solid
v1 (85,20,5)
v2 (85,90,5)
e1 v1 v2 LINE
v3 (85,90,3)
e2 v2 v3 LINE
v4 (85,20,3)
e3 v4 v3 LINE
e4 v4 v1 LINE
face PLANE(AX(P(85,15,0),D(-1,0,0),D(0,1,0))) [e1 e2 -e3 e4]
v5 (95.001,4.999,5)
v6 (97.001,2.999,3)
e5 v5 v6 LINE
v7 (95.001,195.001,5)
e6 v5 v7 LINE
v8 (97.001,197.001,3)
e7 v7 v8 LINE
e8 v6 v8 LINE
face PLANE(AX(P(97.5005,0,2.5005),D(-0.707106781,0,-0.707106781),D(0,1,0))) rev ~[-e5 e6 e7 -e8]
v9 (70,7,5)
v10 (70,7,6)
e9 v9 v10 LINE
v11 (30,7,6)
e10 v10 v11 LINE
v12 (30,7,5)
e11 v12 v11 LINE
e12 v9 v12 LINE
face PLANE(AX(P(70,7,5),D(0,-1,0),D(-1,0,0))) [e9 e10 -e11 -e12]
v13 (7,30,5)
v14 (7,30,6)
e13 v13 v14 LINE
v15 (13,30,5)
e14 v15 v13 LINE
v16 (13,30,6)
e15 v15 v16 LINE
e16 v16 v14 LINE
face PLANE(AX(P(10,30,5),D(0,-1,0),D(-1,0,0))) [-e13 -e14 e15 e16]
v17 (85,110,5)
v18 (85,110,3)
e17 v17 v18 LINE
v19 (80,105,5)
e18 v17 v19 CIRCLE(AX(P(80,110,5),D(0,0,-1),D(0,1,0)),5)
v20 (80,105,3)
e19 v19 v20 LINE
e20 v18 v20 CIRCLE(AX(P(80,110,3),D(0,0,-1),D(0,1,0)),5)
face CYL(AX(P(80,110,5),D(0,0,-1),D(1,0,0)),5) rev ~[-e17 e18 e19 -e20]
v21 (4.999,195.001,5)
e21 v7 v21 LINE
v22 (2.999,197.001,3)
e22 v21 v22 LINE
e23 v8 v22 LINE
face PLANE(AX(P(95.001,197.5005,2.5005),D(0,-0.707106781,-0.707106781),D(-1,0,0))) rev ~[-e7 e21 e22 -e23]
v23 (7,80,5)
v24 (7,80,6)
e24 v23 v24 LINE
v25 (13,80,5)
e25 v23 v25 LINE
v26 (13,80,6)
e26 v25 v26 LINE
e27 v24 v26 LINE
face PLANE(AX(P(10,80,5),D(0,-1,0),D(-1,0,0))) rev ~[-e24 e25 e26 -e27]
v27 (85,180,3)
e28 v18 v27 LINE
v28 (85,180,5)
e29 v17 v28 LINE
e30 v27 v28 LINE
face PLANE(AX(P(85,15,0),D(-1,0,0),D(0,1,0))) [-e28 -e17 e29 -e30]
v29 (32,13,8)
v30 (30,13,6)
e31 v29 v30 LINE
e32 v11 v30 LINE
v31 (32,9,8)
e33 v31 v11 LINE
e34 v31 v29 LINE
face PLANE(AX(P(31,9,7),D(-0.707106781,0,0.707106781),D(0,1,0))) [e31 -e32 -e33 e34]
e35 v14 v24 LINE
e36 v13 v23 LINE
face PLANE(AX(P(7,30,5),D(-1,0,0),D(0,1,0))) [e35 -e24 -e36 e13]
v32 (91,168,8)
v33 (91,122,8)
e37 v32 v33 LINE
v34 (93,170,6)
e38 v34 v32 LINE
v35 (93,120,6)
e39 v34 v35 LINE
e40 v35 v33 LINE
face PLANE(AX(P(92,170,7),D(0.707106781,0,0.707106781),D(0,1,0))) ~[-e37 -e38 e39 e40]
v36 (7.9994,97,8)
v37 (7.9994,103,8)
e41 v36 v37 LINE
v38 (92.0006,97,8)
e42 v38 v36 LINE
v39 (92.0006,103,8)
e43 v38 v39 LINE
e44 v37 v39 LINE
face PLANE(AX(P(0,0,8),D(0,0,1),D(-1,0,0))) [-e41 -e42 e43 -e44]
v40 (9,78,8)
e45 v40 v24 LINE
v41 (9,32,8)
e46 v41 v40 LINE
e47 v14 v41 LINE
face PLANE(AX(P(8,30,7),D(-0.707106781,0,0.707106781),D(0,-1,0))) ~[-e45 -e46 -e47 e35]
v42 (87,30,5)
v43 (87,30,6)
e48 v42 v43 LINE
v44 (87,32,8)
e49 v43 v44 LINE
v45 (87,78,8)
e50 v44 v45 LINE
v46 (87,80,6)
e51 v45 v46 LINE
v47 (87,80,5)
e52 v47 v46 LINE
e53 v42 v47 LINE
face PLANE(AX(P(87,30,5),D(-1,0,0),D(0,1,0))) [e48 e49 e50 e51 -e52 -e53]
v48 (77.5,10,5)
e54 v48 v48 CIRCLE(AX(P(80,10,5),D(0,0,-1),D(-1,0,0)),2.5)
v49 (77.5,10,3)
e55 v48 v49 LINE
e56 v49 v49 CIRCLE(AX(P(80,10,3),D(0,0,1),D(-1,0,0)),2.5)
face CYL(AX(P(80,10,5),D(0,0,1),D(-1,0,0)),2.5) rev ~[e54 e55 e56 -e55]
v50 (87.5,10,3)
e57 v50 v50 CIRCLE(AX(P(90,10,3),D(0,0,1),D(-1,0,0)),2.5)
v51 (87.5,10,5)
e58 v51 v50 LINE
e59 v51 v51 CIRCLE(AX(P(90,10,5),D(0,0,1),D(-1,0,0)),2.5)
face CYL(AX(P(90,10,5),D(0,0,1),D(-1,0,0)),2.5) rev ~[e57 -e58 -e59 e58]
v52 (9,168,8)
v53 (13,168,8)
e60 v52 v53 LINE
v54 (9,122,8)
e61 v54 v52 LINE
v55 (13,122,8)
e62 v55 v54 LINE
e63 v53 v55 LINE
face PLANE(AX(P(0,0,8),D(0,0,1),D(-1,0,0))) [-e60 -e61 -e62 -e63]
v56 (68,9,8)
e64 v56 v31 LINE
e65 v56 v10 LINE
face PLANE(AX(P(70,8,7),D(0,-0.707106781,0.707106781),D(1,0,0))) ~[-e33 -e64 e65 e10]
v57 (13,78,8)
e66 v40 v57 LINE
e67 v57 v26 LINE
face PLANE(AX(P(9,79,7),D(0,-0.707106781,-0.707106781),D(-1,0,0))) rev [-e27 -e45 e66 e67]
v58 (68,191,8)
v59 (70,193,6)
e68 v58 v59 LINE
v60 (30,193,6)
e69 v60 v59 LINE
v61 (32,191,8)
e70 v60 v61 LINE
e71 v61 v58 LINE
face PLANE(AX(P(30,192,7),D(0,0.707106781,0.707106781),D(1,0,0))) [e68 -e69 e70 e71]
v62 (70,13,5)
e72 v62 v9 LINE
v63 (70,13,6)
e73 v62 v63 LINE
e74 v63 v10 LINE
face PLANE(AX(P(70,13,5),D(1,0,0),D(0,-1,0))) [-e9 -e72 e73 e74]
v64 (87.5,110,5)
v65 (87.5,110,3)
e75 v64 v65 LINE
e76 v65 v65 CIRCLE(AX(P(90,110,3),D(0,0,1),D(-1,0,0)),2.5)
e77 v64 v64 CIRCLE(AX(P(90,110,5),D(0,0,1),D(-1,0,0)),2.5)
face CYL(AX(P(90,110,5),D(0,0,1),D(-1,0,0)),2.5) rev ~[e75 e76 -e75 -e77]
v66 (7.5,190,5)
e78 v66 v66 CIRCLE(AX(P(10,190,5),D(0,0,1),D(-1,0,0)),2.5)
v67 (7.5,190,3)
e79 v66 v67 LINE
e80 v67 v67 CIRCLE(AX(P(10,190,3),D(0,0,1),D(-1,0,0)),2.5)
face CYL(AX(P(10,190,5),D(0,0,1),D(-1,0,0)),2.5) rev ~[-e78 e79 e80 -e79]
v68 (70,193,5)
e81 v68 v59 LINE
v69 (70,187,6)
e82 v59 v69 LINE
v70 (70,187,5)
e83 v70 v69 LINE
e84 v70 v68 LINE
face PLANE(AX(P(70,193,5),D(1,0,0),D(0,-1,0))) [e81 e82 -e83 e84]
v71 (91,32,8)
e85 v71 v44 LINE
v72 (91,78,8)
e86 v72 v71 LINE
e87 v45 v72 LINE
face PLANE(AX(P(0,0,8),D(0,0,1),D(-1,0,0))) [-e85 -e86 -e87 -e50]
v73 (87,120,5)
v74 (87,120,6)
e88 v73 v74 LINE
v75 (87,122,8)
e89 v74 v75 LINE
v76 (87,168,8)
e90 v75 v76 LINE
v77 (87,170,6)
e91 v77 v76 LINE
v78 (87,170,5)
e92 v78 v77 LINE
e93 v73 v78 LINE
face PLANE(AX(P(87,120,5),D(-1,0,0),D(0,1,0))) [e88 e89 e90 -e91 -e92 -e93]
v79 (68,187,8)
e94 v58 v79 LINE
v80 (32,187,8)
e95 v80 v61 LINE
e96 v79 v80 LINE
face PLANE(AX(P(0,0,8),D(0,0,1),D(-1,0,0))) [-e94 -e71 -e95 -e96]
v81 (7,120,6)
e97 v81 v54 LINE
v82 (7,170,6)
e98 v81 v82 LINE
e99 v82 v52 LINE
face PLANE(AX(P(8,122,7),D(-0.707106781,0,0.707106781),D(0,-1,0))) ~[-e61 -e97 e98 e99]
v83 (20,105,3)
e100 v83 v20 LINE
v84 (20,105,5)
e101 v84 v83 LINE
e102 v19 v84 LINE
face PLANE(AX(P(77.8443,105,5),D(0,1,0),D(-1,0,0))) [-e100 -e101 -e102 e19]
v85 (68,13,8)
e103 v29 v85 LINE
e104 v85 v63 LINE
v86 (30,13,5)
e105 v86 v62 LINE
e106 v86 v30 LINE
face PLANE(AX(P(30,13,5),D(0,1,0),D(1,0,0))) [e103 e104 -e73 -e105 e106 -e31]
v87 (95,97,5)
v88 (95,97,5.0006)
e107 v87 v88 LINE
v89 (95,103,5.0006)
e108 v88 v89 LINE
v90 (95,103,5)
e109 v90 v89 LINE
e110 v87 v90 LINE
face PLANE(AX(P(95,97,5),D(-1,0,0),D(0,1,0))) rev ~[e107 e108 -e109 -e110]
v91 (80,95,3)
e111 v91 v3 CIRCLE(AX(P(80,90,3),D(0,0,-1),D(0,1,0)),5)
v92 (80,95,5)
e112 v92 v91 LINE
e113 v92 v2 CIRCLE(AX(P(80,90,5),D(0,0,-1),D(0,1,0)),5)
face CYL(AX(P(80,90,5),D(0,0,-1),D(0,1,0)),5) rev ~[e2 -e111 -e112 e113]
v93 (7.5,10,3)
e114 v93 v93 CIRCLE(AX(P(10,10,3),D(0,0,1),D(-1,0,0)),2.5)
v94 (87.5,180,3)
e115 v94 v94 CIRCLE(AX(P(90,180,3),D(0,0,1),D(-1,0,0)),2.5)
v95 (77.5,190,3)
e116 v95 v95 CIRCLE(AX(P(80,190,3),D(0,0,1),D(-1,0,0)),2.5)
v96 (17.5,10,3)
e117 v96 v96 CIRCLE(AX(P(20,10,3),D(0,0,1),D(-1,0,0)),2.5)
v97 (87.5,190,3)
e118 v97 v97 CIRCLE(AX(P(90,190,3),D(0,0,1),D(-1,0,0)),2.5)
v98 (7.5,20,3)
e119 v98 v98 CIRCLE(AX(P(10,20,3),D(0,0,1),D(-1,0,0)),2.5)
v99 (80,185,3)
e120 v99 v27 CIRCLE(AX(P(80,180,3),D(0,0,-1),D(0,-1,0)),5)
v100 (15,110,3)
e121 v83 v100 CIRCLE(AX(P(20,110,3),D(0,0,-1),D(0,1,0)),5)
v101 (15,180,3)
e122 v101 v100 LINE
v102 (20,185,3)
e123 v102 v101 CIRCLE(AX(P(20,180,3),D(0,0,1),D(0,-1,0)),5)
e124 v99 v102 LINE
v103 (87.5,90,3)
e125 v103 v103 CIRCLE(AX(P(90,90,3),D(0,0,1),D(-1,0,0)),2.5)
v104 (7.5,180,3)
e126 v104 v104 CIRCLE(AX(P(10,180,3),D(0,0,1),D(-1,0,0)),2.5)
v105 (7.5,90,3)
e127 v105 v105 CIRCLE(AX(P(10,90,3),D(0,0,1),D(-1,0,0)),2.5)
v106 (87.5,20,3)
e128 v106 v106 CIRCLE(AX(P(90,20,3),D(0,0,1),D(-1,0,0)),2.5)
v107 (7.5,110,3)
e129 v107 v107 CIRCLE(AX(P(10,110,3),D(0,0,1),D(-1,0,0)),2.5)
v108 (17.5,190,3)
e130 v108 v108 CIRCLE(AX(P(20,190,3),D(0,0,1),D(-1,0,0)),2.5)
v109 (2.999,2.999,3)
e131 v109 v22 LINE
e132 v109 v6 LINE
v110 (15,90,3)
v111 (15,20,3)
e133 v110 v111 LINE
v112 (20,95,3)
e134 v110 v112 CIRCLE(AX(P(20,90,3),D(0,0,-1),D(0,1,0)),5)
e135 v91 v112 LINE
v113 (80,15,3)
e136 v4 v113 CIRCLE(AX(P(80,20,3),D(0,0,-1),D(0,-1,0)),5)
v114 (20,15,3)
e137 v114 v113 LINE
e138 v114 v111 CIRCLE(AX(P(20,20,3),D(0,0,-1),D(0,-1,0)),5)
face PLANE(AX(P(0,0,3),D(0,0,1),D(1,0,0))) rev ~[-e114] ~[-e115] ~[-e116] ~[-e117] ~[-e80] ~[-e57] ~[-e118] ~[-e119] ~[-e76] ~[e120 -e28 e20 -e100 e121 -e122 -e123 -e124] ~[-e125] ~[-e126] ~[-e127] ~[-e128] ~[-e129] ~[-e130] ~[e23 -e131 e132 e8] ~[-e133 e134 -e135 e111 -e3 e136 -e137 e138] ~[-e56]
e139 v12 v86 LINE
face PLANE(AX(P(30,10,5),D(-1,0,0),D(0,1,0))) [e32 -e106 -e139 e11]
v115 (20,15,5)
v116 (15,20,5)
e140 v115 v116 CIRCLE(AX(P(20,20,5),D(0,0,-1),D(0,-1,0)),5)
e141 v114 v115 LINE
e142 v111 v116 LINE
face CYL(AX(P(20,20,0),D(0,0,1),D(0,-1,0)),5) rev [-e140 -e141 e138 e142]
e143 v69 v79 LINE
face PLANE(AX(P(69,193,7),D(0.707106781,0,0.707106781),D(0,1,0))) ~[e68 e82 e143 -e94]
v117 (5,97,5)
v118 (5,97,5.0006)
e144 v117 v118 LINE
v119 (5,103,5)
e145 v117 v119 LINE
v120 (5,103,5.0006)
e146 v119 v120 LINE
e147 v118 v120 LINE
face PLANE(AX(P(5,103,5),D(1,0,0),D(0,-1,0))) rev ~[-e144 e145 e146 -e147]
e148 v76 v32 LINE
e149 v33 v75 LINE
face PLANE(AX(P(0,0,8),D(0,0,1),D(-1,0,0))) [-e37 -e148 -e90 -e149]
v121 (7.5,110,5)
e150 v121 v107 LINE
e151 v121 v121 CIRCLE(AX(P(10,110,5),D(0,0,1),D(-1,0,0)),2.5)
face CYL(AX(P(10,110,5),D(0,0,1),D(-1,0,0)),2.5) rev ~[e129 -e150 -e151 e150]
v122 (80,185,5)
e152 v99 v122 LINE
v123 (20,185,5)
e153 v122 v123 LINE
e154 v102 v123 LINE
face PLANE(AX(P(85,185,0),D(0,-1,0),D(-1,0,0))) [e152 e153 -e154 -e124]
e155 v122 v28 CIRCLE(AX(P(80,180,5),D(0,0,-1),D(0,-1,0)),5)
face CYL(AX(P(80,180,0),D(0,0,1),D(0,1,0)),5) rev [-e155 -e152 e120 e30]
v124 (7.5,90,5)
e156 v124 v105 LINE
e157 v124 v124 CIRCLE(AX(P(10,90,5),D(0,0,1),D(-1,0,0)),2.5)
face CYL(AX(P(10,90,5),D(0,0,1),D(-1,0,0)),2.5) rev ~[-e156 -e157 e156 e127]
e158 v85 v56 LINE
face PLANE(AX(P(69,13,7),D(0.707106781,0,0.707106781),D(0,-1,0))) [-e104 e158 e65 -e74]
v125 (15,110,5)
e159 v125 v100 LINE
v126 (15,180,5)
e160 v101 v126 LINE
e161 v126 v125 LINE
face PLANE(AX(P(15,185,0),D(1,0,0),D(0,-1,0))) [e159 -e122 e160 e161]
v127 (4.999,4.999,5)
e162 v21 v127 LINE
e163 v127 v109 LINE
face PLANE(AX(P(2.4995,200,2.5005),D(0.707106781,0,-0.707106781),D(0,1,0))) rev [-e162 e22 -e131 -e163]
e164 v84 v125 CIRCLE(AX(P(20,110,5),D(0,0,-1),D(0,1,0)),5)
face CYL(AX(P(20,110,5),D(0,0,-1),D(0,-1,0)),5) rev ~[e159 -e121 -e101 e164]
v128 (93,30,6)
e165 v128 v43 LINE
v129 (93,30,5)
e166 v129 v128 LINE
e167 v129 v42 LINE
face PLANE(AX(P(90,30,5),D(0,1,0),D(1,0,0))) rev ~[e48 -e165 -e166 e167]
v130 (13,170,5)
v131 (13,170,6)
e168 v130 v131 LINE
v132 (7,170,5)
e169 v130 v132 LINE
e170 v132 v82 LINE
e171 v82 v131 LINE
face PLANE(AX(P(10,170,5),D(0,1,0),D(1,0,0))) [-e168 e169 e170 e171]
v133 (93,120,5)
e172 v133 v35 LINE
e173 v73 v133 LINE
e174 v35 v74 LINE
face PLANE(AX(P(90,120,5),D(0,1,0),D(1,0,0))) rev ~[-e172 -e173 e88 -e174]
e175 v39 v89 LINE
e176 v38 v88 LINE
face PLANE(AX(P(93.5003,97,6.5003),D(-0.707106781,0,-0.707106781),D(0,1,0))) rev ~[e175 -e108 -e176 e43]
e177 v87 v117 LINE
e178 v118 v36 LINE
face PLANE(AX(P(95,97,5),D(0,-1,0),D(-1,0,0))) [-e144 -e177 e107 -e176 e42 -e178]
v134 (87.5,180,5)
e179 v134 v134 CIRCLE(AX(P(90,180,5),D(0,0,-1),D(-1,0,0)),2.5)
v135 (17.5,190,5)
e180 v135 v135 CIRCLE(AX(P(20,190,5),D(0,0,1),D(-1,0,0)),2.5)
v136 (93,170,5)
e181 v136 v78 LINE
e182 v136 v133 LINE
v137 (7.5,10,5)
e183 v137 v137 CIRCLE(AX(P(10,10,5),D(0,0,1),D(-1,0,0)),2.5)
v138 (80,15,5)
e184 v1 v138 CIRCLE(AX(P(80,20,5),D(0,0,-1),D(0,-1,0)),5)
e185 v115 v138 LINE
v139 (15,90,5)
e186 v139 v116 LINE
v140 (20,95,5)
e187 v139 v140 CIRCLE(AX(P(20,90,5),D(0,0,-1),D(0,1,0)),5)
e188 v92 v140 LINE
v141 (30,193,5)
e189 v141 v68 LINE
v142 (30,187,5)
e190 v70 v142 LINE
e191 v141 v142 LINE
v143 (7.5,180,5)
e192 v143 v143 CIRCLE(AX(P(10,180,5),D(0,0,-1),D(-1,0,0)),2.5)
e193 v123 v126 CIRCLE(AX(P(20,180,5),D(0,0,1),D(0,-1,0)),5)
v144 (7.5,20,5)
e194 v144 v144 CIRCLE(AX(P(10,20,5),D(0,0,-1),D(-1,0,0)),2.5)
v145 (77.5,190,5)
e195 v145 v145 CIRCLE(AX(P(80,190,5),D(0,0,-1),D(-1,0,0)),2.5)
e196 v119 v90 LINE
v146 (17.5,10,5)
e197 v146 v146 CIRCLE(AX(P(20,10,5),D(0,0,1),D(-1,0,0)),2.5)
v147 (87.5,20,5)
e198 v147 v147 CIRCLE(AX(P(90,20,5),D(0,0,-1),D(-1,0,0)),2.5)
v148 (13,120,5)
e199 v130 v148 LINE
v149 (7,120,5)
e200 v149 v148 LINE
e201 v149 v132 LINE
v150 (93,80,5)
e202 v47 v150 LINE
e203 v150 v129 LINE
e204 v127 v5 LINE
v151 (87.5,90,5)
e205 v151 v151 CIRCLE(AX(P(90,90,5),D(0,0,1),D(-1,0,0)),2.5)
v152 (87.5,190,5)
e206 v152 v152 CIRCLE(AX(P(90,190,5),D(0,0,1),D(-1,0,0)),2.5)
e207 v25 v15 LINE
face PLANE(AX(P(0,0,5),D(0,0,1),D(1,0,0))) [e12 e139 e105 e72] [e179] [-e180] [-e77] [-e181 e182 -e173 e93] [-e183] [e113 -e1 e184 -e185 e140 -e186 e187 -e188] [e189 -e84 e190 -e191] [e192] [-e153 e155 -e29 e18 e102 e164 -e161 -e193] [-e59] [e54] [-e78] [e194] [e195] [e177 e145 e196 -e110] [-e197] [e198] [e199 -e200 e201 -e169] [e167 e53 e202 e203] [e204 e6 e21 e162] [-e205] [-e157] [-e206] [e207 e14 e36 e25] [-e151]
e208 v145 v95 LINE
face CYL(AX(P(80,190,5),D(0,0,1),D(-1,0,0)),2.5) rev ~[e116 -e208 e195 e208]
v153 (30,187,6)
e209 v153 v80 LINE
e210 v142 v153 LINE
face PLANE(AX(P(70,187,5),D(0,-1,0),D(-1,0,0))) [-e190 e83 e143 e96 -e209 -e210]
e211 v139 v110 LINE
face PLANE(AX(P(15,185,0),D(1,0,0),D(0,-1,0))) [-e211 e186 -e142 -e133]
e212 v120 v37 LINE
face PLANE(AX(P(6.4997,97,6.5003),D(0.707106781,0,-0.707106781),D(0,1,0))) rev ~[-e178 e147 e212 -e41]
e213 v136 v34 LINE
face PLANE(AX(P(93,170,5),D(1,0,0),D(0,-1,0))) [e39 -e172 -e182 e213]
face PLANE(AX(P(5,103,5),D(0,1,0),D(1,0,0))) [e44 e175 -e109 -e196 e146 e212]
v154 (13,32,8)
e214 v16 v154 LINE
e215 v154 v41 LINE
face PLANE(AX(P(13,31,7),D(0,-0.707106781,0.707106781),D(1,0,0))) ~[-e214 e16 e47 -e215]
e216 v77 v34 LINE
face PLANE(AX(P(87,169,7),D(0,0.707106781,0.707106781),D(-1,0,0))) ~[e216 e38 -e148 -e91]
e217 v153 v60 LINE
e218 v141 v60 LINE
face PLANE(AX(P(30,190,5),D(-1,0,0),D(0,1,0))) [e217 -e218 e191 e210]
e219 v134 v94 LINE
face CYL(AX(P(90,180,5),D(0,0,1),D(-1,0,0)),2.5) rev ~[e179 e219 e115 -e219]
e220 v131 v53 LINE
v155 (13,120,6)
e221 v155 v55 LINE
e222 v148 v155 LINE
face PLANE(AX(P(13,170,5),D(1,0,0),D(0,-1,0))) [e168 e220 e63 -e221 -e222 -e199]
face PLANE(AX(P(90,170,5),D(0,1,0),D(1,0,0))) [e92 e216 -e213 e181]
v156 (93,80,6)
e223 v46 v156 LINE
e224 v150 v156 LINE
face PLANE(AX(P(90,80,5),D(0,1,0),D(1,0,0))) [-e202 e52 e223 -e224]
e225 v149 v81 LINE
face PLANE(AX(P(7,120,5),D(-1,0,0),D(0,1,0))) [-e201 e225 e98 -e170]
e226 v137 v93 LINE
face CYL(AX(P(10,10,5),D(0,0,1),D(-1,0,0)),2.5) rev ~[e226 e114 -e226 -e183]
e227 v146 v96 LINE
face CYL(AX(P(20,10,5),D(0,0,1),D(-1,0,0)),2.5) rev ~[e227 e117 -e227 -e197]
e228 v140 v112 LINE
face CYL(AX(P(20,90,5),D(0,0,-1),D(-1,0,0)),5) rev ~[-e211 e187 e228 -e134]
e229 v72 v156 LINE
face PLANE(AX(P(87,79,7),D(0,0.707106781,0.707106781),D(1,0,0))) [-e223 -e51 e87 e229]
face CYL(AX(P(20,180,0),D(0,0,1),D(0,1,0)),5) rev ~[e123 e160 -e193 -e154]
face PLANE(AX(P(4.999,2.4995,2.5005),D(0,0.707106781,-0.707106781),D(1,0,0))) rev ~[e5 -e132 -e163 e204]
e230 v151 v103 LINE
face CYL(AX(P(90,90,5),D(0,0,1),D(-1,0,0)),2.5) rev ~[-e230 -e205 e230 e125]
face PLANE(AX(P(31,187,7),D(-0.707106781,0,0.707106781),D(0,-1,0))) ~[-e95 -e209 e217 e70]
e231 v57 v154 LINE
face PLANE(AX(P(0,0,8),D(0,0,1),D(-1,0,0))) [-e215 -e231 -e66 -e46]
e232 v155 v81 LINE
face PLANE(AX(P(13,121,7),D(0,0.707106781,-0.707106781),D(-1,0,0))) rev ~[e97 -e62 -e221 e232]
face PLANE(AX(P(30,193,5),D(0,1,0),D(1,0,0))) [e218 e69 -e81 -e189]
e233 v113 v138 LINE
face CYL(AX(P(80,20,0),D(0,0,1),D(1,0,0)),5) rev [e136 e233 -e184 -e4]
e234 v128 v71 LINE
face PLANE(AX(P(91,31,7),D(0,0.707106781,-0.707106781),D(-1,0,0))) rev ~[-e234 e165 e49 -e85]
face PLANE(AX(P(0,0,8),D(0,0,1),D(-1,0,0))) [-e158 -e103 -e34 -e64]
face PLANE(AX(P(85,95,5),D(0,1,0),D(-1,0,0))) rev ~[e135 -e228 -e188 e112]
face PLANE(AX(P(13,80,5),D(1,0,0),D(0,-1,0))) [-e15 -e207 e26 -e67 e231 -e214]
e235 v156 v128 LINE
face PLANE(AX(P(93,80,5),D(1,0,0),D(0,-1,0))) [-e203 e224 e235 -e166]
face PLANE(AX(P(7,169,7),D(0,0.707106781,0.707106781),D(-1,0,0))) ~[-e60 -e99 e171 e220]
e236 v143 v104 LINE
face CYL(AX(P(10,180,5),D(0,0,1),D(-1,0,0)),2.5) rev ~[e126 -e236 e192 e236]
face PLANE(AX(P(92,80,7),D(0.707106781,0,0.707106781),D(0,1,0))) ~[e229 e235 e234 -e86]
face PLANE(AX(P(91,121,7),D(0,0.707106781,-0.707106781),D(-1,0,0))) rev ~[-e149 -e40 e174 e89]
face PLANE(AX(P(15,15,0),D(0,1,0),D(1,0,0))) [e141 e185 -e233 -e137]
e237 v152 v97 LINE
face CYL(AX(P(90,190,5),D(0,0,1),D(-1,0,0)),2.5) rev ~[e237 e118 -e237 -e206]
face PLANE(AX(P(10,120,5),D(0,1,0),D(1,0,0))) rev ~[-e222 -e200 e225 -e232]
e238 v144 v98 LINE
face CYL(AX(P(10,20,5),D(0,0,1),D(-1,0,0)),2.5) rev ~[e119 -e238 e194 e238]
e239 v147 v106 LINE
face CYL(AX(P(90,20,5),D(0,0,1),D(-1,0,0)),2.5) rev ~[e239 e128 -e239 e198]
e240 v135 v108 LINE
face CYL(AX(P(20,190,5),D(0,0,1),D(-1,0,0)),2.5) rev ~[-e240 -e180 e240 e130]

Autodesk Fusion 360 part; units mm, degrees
sketch "Sketch1" plane through (0, 0, 0) normal (0, 0, 1) x (1, 0, 0)
  line L0 (0, 0) -> (100, 0)
  line L1 (100, 0) -> (100, 200)
  line L2 (100, 200) -> (0, 200)
  line L3 (0, 200) -> (0, 0)
  line L4 (15, 15) -> (85, 15)
  line L5 (85, 15) -> (85, 185)
  line L6 (85, 185) -> (15, 185)
  line L7 (15, 185) -> (15, 15)
  dimension "d1" = 100
  dimension "d2" = 200
  dimension "d5" = 70
  dimension "d6" = 170
  dimension "d7" = 70
extrude "Extrude1" add sketch "Sketch1" along normal blind 5
fillet "Fillet1" radius 5 1 edges at (15, 185, 2.5)
fillet "Fillet2" radius 5 1 edges at (85, 185, 2.5)
fillet "Fillet3" radius 5 1 edges at (85, 15, 2.5)
fillet "Fillet4" radius 5 1 edges at (15, 15, 2.5)
chamfer "Chamfer1" distance 5 angle 45 1 edges at (0, 100, 5)
chamfer "Chamfer2" distance 5 angle 45 1 edges at (100, 100, 5)
chamfer "Chamfer3" distance 5 angle 45 1 edges at (50, 0, 5)
chamfer "Chamfer4" distance 5 angle 45 1 edges at (50, 200, 5)
sketch "Sketch2" plane through (0, 0, 5) normal (0, 0, 1) x (-1, 0, 0)
  line L0 (-15, -20) -> (-15, -180)
  arc A0 (-20, -185) -> (-15, -180) centre (-20, -180) ccw
  line L1 (-20, -185) -> (-80, -185)
  arc A1 (-85, -180) -> (-80, -185) centre (-80, -180) ccw
  line L2 (-85, -180) -> (-85, -20)
  arc A2 (-80, -15) -> (-85, -20) centre (-80, -20) ccw
  line L3 (-80, -15) -> (-20, -15)
  arc A3 (-15, -20) -> (-20, -15) centre (-20, -20) ccw
  line L4 (-95, -195) -> (-5, -195)
  line L5 (-5, -195) -> (-5, -5)
  line L6 (-5, -5) -> (-95, -5)
  line L7 (-95, -5) -> (-95, -195)
  line L8 (-95, -5) -> (-95, -100)
  line L9 (-95, -100) -> (-90, -100)
  line L10 (-90, -100) -> (-5, -100)
  line L11 (-85, -100) -> (-85, -105)
  line L12 (-85, -100) -> (-85, -95)
  line L13 (-85, -105) -> (-77.8443, -105)
  line L14 (-77.8443, -105) -> (-15, -105)
  line L15 (-85, -95) -> (-15, -95)
  dimension "d22" = 95
  dimension "d23" = 5
extrude "Extrude2" add sketch "Sketch2" against normal blind 5 contours L0 L2 L10 L12 L15 | L0 L2 L10 L11 L13 L14
fillet "Fillet5" radius 5 1 edges at (85, 105, 2.5)
fillet "Fillet6" radius 5 1 edges at (15, 105, 2.5)
fillet "Fillet7" radius 5 1 edges at (15, 95, 2.5)
fillet "Fillet8" radius 5 1 edges at (85, 95, 2.5)
sketch "Sketch3" plane through (0, 0, 5) normal (0, 0, 1) x (-1, 0, 0)
  line L0 (-15, -110) -> (-15, -180)
  arc A0 (-20, -185) -> (-15, -180) centre (-20, -180) ccw
  line L1 (-20, -185) -> (-80, -185)
  arc A1 (-85, -180) -> (-80, -185) centre (-80, -180) ccw
  line L2 (-85, -180) -> (-85, -110)
  arc A2 (-80, -105) -> (-85, -110) centre (-80, -110) ccw
  line L3 (-80, -105) -> (-20, -105)
  arc A3 (-15, -110) -> (-20, -105) centre (-20, -110) ccw
  line L4 (-85, -90) -> (-85, -20)
  arc A4 (-80, -15) -> (-85, -20) centre (-80, -20) ccw
  line L5 (-80, -15) -> (-20, -15)
  arc A5 (-15, -20) -> (-20, -15) centre (-20, -20) ccw
  line L6 (-15, -20) -> (-15, -90)
  arc A6 (-20, -95) -> (-15, -90) centre (-20, -90) ccw
  line L7 (-20, -95) -> (-80, -95)
  arc A7 (-85, -90) -> (-80, -95) centre (-80, -90) ccw
  line L8 (-95, -195) -> (-5, -195)
  line L9 (-5, -195) -> (-5, -5)
  line L10 (-5, -5) -> (-95, -5)
  line L11 (-95, -5) -> (-95, -195)
  circle A8 centre (-10, -10) radius 2.5
  dimension "d34" = 5
extrude "Extrude3" cut sketch "Sketch3" against normal blind 5 contours A8
sketch "Sketch4" plane through (0, 0, 5) normal (0, 0, 1) x (-1, 0, 0)
  circle A0 centre (-10, -10) radius 2.5
  line L0 (-15, -110) -> (-15, -180)
  arc A1 (-20, -185) -> (-15, -180) centre (-20, -180) ccw
  line L1 (-20, -185) -> (-80, -185)
  arc A2 (-85, -180) -> (-80, -185) centre (-80, -180) ccw
  line L2 (-85, -180) -> (-85, -110)
  arc A3 (-80, -105) -> (-85, -110) centre (-80, -110) ccw
  line L3 (-80, -105) -> (-20, -105)
  arc A4 (-15, -110) -> (-20, -105) centre (-20, -110) ccw
  line L4 (-85, -90) -> (-85, -20)
  arc A5 (-80, -15) -> (-85, -20) centre (-80, -20) ccw
  line L5 (-80, -15) -> (-20, -15)
  arc A6 (-15, -20) -> (-20, -15) centre (-20, -20) ccw
  line L6 (-15, -20) -> (-15, -90)
  arc A7 (-20, -95) -> (-15, -90) centre (-20, -90) ccw
  line L7 (-20, -95) -> (-80, -95)
  arc A8 (-85, -90) -> (-80, -95) centre (-80, -90) ccw
  line L8 (-95, -195) -> (-5, -195)
  line L9 (-5, -195) -> (-5, -5)
  line L10 (-5, -5) -> (-95, -5)
  line L11 (-95, -5) -> (-95, -195)
  circle A9 centre (-90, -10) radius 2.5
  dimension "d37" = 5
extrude "Extrude4" cut sketch "Sketch4" against normal blind 5 contours A9
sketch "Sketch5" plane through (0, 0, 5) normal (0, 0, 1) x (-1, 0, 0)
  circle A0 centre (-90, -10) radius 2.5
  circle A1 centre (-10, -10) radius 2.5
  line L0 (-15, -110) -> (-15, -180)
  arc A2 (-20, -185) -> (-15, -180) centre (-20, -180) ccw
  line L1 (-20, -185) -> (-80, -185)
  arc A3 (-85, -180) -> (-80, -185) centre (-80, -180) ccw
  line L2 (-85, -180) -> (-85, -110)
  arc A4 (-80, -105) -> (-85, -110) centre (-80, -110) ccw
  line L3 (-80, -105) -> (-20, -105)
  arc A5 (-15, -110) -> (-20, -105) centre (-20, -110) ccw
  line L4 (-85, -90) -> (-85, -20)
  arc A6 (-80, -15) -> (-85, -20) centre (-80, -20) ccw
  line L5 (-80, -15) -> (-20, -15)
  arc A7 (-15, -20) -> (-20, -15) centre (-20, -20) ccw
  line L6 (-15, -20) -> (-15, -90)
  arc A8 (-20, -95) -> (-15, -90) centre (-20, -90) ccw
  line L7 (-20, -95) -> (-80, -95)
  arc A9 (-85, -90) -> (-80, -95) centre (-80, -90) ccw
  line L8 (-95, -195) -> (-5, -195)
  line L9 (-5, -195) -> (-5, -5)
  line L10 (-5, -5) -> (-95, -5)
  line L11 (-95, -5) -> (-95, -195)
  circle A10 centre (-90, -190) radius 2.5
  dimension "d40" = 5
extrude "Extrude5" cut sketch "Sketch5" against normal blind 5 contours A10
sketch "Sketch6" plane through (0, 0, 5) normal (0, 0, 1) x (-1, 0, 0)
  circle A0 centre (-90, -190) radius 2.5
  circle A1 centre (-90, -10) radius 2.5
  circle A2 centre (-10, -10) radius 2.5
  line L0 (-15, -110) -> (-15, -180)
  arc A3 (-20, -185) -> (-15, -180) centre (-20, -180) ccw
  line L1 (-20, -185) -> (-80, -185)
  arc A4 (-85, -180) -> (-80, -185) centre (-80, -180) ccw
  line L2 (-85, -180) -> (-85, -110)
  arc A5 (-80, -105) -> (-85, -110) centre (-80, -110) ccw
  line L3 (-80, -105) -> (-20, -105)
  arc A6 (-15, -110) -> (-20, -105) centre (-20, -110) ccw
  line L4 (-85, -90) -> (-85, -20)
  arc A7 (-80, -15) -> (-85, -20) centre (-80, -20) ccw
  line L5 (-80, -15) -> (-20, -15)
  arc A8 (-15, -20) -> (-20, -15) centre (-20, -20) ccw
  line L6 (-15, -20) -> (-15, -90)
  arc A9 (-20, -95) -> (-15, -90) centre (-20, -90) ccw
  line L7 (-20, -95) -> (-80, -95)
  arc A10 (-85, -90) -> (-80, -95) centre (-80, -90) ccw
  line L8 (-95, -195) -> (-5, -195)
  line L9 (-5, -195) -> (-5, -5)
  line L10 (-5, -5) -> (-95, -5)
  line L11 (-95, -5) -> (-95, -195)
  circle A11 centre (-10, -190) radius 2.5
  dimension "d43" = 5
extrude "Extrude6" cut sketch "Sketch6" against normal blind 5 contours A11
sketch "Sketch7" plane through (0, 0, 5) normal (0, 0, 1) x (-1, 0, 0)
  circle A0 centre (-10, -190) radius 2.5
  circle A1 centre (-90, -190) radius 2.5
  circle A2 centre (-90, -10) radius 2.5
  circle A3 centre (-10, -10) radius 2.5
  line L0 (-15, -110) -> (-15, -180)
  arc A4 (-20, -185) -> (-15, -180) centre (-20, -180) ccw
  line L1 (-20, -185) -> (-80, -185)
  arc A5 (-85, -180) -> (-80, -185) centre (-80, -180) ccw
  line L2 (-85, -180) -> (-85, -110)
  arc A6 (-80, -105) -> (-85, -110) centre (-80, -110) ccw
  line L3 (-80, -105) -> (-20, -105)
  arc A7 (-15, -110) -> (-20, -105) centre (-20, -110) ccw
  line L4 (-85, -90) -> (-85, -20)
  arc A8 (-80, -15) -> (-85, -20) centre (-80, -20) ccw
  line L5 (-80, -15) -> (-20, -15)
  arc A9 (-15, -20) -> (-20, -15) centre (-20, -20) ccw
  line L6 (-15, -20) -> (-15, -90)
  arc A10 (-20, -95) -> (-15, -90) centre (-20, -90) ccw
  line L7 (-20, -95) -> (-80, -95)
  arc A11 (-85, -90) -> (-80, -95) centre (-80, -90) ccw
  line L8 (-95, -195) -> (-5, -195)
  line L9 (-5, -195) -> (-5, -5)
  line L10 (-5, -5) -> (-95, -5)
  line L11 (-95, -5) -> (-95, -195)
  circle A12 centre (-90, -90) radius 2.5
  dimension "d46" = 5
extrude "Extrude7" cut sketch "Sketch7" against normal blind 5 contours A12
sketch "Sketch8" plane through (0, 0, 5) normal (0, 0, 1) x (-1, 0, 0)
  circle A0 centre (-90, -90) radius 2.5
  circle A1 centre (-10, -190) radius 2.5
  circle A2 centre (-90, -190) radius 2.5
  circle A3 centre (-90, -10) radius 2.5
  circle A4 centre (-10, -10) radius 2.5
  line L0 (-15, -110) -> (-15, -180)
  arc A5 (-20, -185) -> (-15, -180) centre (-20, -180) ccw
  line L1 (-20, -185) -> (-80, -185)
  arc A6 (-85, -180) -> (-80, -185) centre (-80, -180) ccw
  line L2 (-85, -180) -> (-85, -110)
  arc A7 (-80, -105) -> (-85, -110) centre (-80, -110) ccw
  line L3 (-80, -105) -> (-20, -105)
  arc A8 (-15, -110) -> (-20, -105) centre (-20, -110) ccw
  line L4 (-85, -90) -> (-85, -20)
  arc A9 (-80, -15) -> (-85, -20) centre (-80, -20) ccw
  line L5 (-80, -15) -> (-20, -15)
  arc A10 (-15, -20) -> (-20, -15) centre (-20, -20) ccw
  line L6 (-15, -20) -> (-15, -90)
  arc A11 (-20, -95) -> (-15, -90) centre (-20, -90) ccw
  line L7 (-20, -95) -> (-80, -95)
  arc A12 (-85, -90) -> (-80, -95) centre (-80, -90) ccw
  line L8 (-95, -195) -> (-5, -195)
  line L9 (-5, -195) -> (-5, -5)
  line L10 (-5, -5) -> (-95, -5)
  line L11 (-95, -5) -> (-95, -195)
  circle A13 centre (-90, -110) radius 2.5
  dimension "d49" = 5
extrude "Extrude8" cut sketch "Sketch8" against normal blind 5 contours A13
sketch "Sketch9" plane through (0, 0, 5) normal (0, 0, 1) x (-1, 0, 0)
  circle A0 centre (-90, -110) radius 2.5
  circle A1 centre (-90, -90) radius 2.5
  circle A2 centre (-10, -190) radius 2.5
  circle A3 centre (-90, -190) radius 2.5
  circle A4 centre (-90, -10) radius 2.5
  circle A5 centre (-10, -10) radius 2.5
  line L0 (-15, -110) -> (-15, -180)
  arc A6 (-20, -185) -> (-15, -180) centre (-20, -180) ccw
  line L1 (-20, -185) -> (-80, -185)
  arc A7 (-85, -180) -> (-80, -185) centre (-80, -180) ccw
  line L2 (-85, -180) -> (-85, -110)
  arc A8 (-80, -105) -> (-85, -110) centre (-80, -110) ccw
  line L3 (-80, -105) -> (-20, -105)
  arc A9 (-15, -110) -> (-20, -105) centre (-20, -110) ccw
  line L4 (-85, -90) -> (-85, -20)
  arc A10 (-80, -15) -> (-85, -20) centre (-80, -20) ccw
  line L5 (-80, -15) -> (-20, -15)
  arc A11 (-15, -20) -> (-20, -15) centre (-20, -20) ccw
  line L6 (-15, -20) -> (-15, -90)
  arc A12 (-20, -95) -> (-15, -90) centre (-20, -90) ccw
  line L7 (-20, -95) -> (-80, -95)
  arc A13 (-85, -90) -> (-80, -95) centre (-80, -90) ccw
  line L8 (-95, -195) -> (-5, -195)
  line L9 (-5, -195) -> (-5, -5)
  line L10 (-5, -5) -> (-95, -5)
  line L11 (-95, -5) -> (-95, -195)
  circle A14 centre (-10, -110) radius 2.5
  circle A15 centre (-10, -90) radius 2.5
  dimension "d52" = 5
  dimension "d53" = 5
extrude "Extrude9" cut sketch "Sketch9" against normal blind 5 contours A14 | A15
extrude "Extrude10" cut 1 faces at (40, 101.6667, 0) along direction (0, 0, 1) blind 3
sketch "Sketch10" plane through (0, 0, 5) normal (0, 0, 1) x (-1, 0, 0)
  circle A0 centre (-10, -90) radius 2.5
  circle A1 centre (-10, -110) radius 2.5
  circle A2 centre (-90, -110) radius 2.5
  circle A3 centre (-90, -90) radius 2.5
  circle A4 centre (-10, -190) radius 2.5
  circle A5 centre (-90, -190) radius 2.5
  circle A6 centre (-90, -10) radius 2.5
  circle A7 centre (-10, -10) radius 2.5
  line L0 (-15, -110) -> (-15, -180)
  arc A8 (-20, -185) -> (-15, -180) centre (-20, -180) ccw
  line L1 (-20, -185) -> (-80, -185)
  arc A9 (-85, -180) -> (-80, -185) centre (-80, -180) ccw
  line L2 (-85, -180) -> (-85, -110)
  arc A10 (-80, -105) -> (-85, -110) centre (-80, -110) ccw
  line L3 (-80, -105) -> (-20, -105)
  arc A11 (-15, -110) -> (-20, -105) centre (-20, -110) ccw
  line L4 (-85, -90) -> (-85, -20)
  arc A12 (-80, -15) -> (-85, -20) centre (-80, -20) ccw
  line L5 (-80, -15) -> (-20, -15)
  arc A13 (-15, -20) -> (-20, -15) centre (-20, -20) ccw
  line L6 (-15, -20) -> (-15, -90)
  arc A14 (-20, -95) -> (-15, -90) centre (-20, -90) ccw
  line L7 (-20, -95) -> (-80, -95)
  arc A15 (-85, -90) -> (-80, -95) centre (-80, -90) ccw
  line L8 (-95, -195) -> (-5, -195)
  line L9 (-5, -195) -> (-5, -5)
  line L10 (-5, -5) -> (-95, -5)
  line L11 (-95, -5) -> (-95, -195)
  line L12 (-5, -100) -> (-5, -103)
  line L13 (-5, -103) -> (-95, -103)
  line L14 (-95, -103) -> (-95, -97)
  line L15 (-95, -97) -> (-5, -97)
  line L16 (-5, -97) -> (-5, -103)
  dimension "d58" = 3
  dimension "d59" = 6
extrude "Extrude11" add sketch "Sketch10" along normal blind 3 contours L9 L11 L12 L13 L14 L15 L16
chamfer "Chamfer5" distance 3 angle 45 1 edges at (5, 100, 8)
chamfer "Chamfer6" distance 3 angle 45 1 edges at (95, 100, 8)
sketch "Sketch11" plane through (0, 0, 5) normal (0, 0, 1) x (-1, 0, 0)
  line L0 (-85, -90) -> (-85, -20)
  arc A0 (-80, -15) -> (-85, -20) centre (-80, -20) ccw
  line L1 (-80, -15) -> (-20, -15)
  arc A1 (-15, -20) -> (-20, -15) centre (-20, -20) ccw
  line L2 (-15, -20) -> (-15, -90)
  arc A2 (-20, -95) -> (-15, -90) centre (-20, -90) ccw
  line L3 (-20, -95) -> (-80, -95)
  arc A3 (-85, -90) -> (-80, -95) centre (-80, -90) ccw
  circle A4 centre (-10, -10) radius 2.5
  circle A5 centre (-90, -10) radius 2.5
  circle A6 centre (-90, -90) radius 2.5
  circle A7 centre (-10, -90) radius 2.5
  line L4 (-95, -97) -> (-5, -97)
  line L5 (-5, -97) -> (-5, -5)
  line L6 (-5, -5) -> (-95, -5)
  line L7 (-95, -5) -> (-95, -97)
  line L8 (-10, -10) -> (-20, -10)
  circle A8 centre (-20, -10) radius 2.5
  line L9 (-90, -10) -> (-80, -10)
  circle A9 centre (-80, -10) radius 2.5
  line L10 (-90, -10) -> (-90, -20)
  circle A10 centre (-90, -20) radius 2.5
  line L11 (-10, -10) -> (-10, -20)
  circle A11 centre (-10, -20) radius 2.5
  dimension "d64" = 10
  dimension "d65" = 5
  dimension "d66" = 10
  dimension "d67" = 5
  dimension "d68" = 10
  dimension "d69" = 5
  dimension "d70" = 10
  dimension "d71" = 5
extrude "Extrude12" cut sketch "Sketch11" against normal blind 5 contours A11 | A8 | A10 | A9
sketch "Sketch12" plane through (0, 0, 5) normal (0, 0, 1) x (-1, 0, 0)
  circle A0 centre (-10, -110) radius 2.5
  circle A1 centre (-90, -110) radius 2.5
  circle A2 centre (-10, -190) radius 2.5
  circle A3 centre (-90, -190) radius 2.5
  line L0 (-15, -110) -> (-15, -180)
  arc A4 (-20, -185) -> (-15, -180) centre (-20, -180) ccw
  line L1 (-20, -185) -> (-80, -185)
  arc A5 (-85, -180) -> (-80, -185) centre (-80, -180) ccw
  line L2 (-85, -180) -> (-85, -110)
  arc A6 (-80, -105) -> (-85, -110) centre (-80, -110) ccw
  line L3 (-80, -105) -> (-20, -105)
  arc A7 (-15, -110) -> (-20, -105) centre (-20, -110) ccw
  line L4 (-5, -103) -> (-95, -103)
  line L5 (-95, -103) -> (-95, -195)
  line L6 (-95, -195) -> (-5, -195)
  line L7 (-5, -195) -> (-5, -103)
  line L8 (-10, -190) -> (-10, -180)
  line L9 (-10, -190) -> (-20, -190)
  circle A8 centre (-10, -180) radius 2.5
  circle A9 centre (-20, -190) radius 2.5
  line L10 (-90, -190) -> (-90, -180)
  line L11 (-90, -190) -> (-80, -190)
  circle A10 centre (-90, -180) radius 2.5
  circle A11 centre (-80, -190) radius 2.5
  dimension "d74" = 10
  dimension "d75" = 10
  dimension "d76" = 5
  dimension "d77" = 5
  dimension "d78" = 10
  dimension "d79" = 10
  dimension "d80" = 5
  dimension "d81" = 5
extrude "Extrude13" cut sketch "Sketch12" against normal blind 5 contours A9 | A8 | A10 | A11
sketch "Sketch13" plane through (0, 0, 5) normal (0, 0, 1) x (-1, 0, 0)
  circle A0 centre (-90, -180) radius 2.5
  circle A1 centre (-20, -190) radius 2.5
  circle A2 centre (-80, -190) radius 2.5
  circle A3 centre (-10, -180) radius 2.5
  circle A4 centre (-10, -110) radius 2.5
  circle A5 centre (-90, -110) radius 2.5
  circle A6 centre (-10, -190) radius 2.5
  circle A7 centre (-90, -190) radius 2.5
  line L0 (-15, -110) -> (-15, -180)
  arc A8 (-20, -185) -> (-15, -180) centre (-20, -180) ccw
  line L1 (-20, -185) -> (-80, -185)
  arc A9 (-85, -180) -> (-80, -185) centre (-80, -180) ccw
  line L2 (-85, -180) -> (-85, -110)
  arc A10 (-80, -105) -> (-85, -110) centre (-80, -110) ccw
  line L3 (-80, -105) -> (-20, -105)
  arc A11 (-15, -110) -> (-20, -105) centre (-20, -110) ccw
  line L4 (-5, -103) -> (-95, -103)
  line L5 (-95, -103) -> (-95, -195)
  line L6 (-95, -195) -> (-5, -195)
  line L7 (-5, -195) -> (-5, -103)
  line L8 (-10, -20) -> (-10, -30)
  line L9 (-10, -90) -> (-10, -80)
  line L10 (-10, -80) -> (-7, -80)
  line L11 (-7, -80) -> (-13, -80)
  line L12 (-13, -80) -> (-13, -30)
  line L13 (-13, -30) -> (-7, -30)
  line L14 (-7, -30) -> (-7, -80)
  dimension "d84" = 10
  dimension "d85" = 10
  dimension "d86" = 3
  dimension "d87" = 6
extrude "Extrude14" add sketch "Sketch13" along normal blind 3 contours L10 L11 L12 L13 L14
chamfer "Chamfer7" distance 2 angle 45 1 edges at (7, 55, 8)
sketch "Sketch14" plane through (0, 0, 5) normal (0, 0, 1) x (-1, 0, 0)
  line L0 (-7, -30) -> (-7, -80)
  line L1 (-7, -80) -> (-13, -80)
  line L2 (-13, -80) -> (-13, -30)
  line L3 (-13, -30) -> (-7, -30)
  circle A0 centre (-10, -20) radius 2.5
  circle A1 centre (-80, -10) radius 2.5
  circle A2 centre (-20, -10) radius 2.5
  circle A3 centre (-90, -20) radius 2.5
  line L4 (-85, -90) -> (-85, -20)
  arc A4 (-80, -15) -> (-85, -20) centre (-80, -20) ccw
  line L5 (-80, -15) -> (-20, -15)
  arc A5 (-15, -20) -> (-20, -15) centre (-20, -20) ccw
  line L6 (-15, -20) -> (-15, -90)
  arc A6 (-20, -95) -> (-15, -90) centre (-20, -90) ccw
  line L7 (-20, -95) -> (-80, -95)
  arc A7 (-85, -90) -> (-80, -95) centre (-80, -90) ccw
  circle A8 centre (-10, -10) radius 2.5
  circle A9 centre (-90, -10) radius 2.5
  circle A10 centre (-90, -90) radius 2.5
  circle A11 centre (-10, -90) radius 2.5
  line L8 (-95, -97) -> (-5, -97)
  line L9 (-5, -97) -> (-5, -5)
  line L10 (-5, -5) -> (-95, -5)
  line L11 (-95, -5) -> (-95, -97)
  line L12 (-20, -10) -> (-30, -10)
  line L13 (-80, -10) -> (-70, -10)
  line L14 (-30, -10) -> (-30, -13)
  line L15 (-70, -10) -> (-70, -7)
  line L16 (-30, -13) -> (-70, -13)
  line L17 (-70, -13) -> (-70, -7)
  line L18 (-70, -7) -> (-30, -7)
  line L19 (-30, -7) -> (-30, -13)
  dimension "d91" = 10
  dimension "d92" = 10
  dimension "d93" = 3
  dimension "d94" = 3
extrude "Extrude15" add sketch "Sketch14" along normal blind 5 contours L14 L15 L16 L17 L18 L19
extrude "Extrude16" cut 1 faces at (56.6667, 11, 10) along direction (0, 0, -1) blind 2
chamfer "Chamfer8" distance 2 angle 45 1 edges at (50, 7, 8)
chamfer "Chamfer9" distance 2 angle 45 1 edges at (30, 11, 8)
chamfer "Chamfer10" distance 2 angle 45 1 edges at (70, 11, 8)
chamfer "Chamfer11" distance 2 angle 45 1 edges at (11, 30, 8)
chamfer "Chamfer12" distance 2 angle 45 1 edges at (11, 80, 8)
sketch "Sketch15" plane through (0, 0, 5) normal (0, 0, 1) x (-1, 0, 0)
  line L0 (-30, -7) -> (-30, -13)
  line L1 (-30, -13) -> (-70, -13)
  line L2 (-70, -13) -> (-70, -7)
  line L3 (-70, -7) -> (-30, -7)
  line L4 (-7, -30) -> (-7, -80)
  line L5 (-7, -80) -> (-13, -80)
  line L6 (-13, -80) -> (-13, -30)
  line L7 (-13, -30) -> (-7, -30)
  circle A0 centre (-10, -20) radius 2.5
  circle A1 centre (-80, -10) radius 2.5
  circle A2 centre (-20, -10) radius 2.5
  circle A3 centre (-90, -20) radius 2.5
  line L8 (-85, -90) -> (-85, -20)
  arc A4 (-80, -15) -> (-85, -20) centre (-80, -20) ccw
  line L9 (-80, -15) -> (-20, -15)
  arc A5 (-15, -20) -> (-20, -15) centre (-20, -20) ccw
  line L10 (-15, -20) -> (-15, -90)
  arc A6 (-20, -95) -> (-15, -90) centre (-20, -90) ccw
  line L11 (-20, -95) -> (-80, -95)
  arc A7 (-85, -90) -> (-80, -95) centre (-80, -90) ccw
  circle A8 centre (-10, -10) radius 2.5
  circle A9 centre (-90, -10) radius 2.5
  circle A10 centre (-90, -90) radius 2.5
  circle A11 centre (-10, -90) radius 2.5
  line L12 (-95, -97) -> (-5, -97)
  line L13 (-5, -97) -> (-5, -5)
  line L14 (-5, -5) -> (-95, -5)
  line L15 (-95, -5) -> (-95, -97)
  line L16 (-90, -20) -> (-90, -30)
  line L17 (-90, -90) -> (-90, -80)
  line L18 (-90, -80) -> (-87, -80)
  line L19 (-90, -30) -> (-93, -30)
  line L20 (-87, -80) -> (-93, -80)
  line L21 (-93, -80) -> (-93, -30)
  line L22 (-93, -30) -> (-87, -30)
  line L23 (-87, -30) -> (-87, -80)
  dimension "d104" = 10
  dimension "d105" = 10
  dimension "d106" = 3
  dimension "d107" = 3
extrude "Extrude17" add sketch "Sketch15" along normal blind 3 contours L18 L19 L20 L21 L22 L23
chamfer "Chamfer13" distance 2 angle 45 1 edges at (93, 55, 8)
chamfer "Chamfer14" distance 2 angle 45 1 edges at (89, 30, 8)
chamfer "Chamfer15" distance 2 angle 45 1 edges at (89, 80, 8)
sketch "Sketch16" plane through (0, 0, 5) normal (0, 0, 1) x (-1, 0, 0)
  circle A0 centre (-90, -180) radius 2.5
  circle A1 centre (-20, -190) radius 2.5
  circle A2 centre (-80, -190) radius 2.5
  circle A3 centre (-10, -180) radius 2.5
  circle A4 centre (-10, -110) radius 2.5
  circle A5 centre (-90, -110) radius 2.5
  circle A6 centre (-10, -190) radius 2.5
  circle A7 centre (-90, -190) radius 2.5
  line L0 (-15, -110) -> (-15, -180)
  arc A8 (-20, -185) -> (-15, -180) centre (-20, -180) ccw
  line L1 (-20, -185) -> (-80, -185)
  arc A9 (-85, -180) -> (-80, -185) centre (-80, -180) ccw
  line L2 (-85, -180) -> (-85, -110)
  arc A10 (-80, -105) -> (-85, -110) centre (-80, -110) ccw
  line L3 (-80, -105) -> (-20, -105)
  arc A11 (-15, -110) -> (-20, -105) centre (-20, -110) ccw
  line L4 (-5, -103) -> (-95, -103)
  line L5 (-95, -103) -> (-95, -195)
  line L6 (-95, -195) -> (-5, -195)
  line L7 (-5, -195) -> (-5, -103)
  line L8 (-90, -110) -> (-90, -120)
  line L9 (-90, -180) -> (-90, -170)
  line L10 (-80, -190) -> (-70, -190)
  line L11 (-20, -190) -> (-30, -190)
  line L12 (-10, -180) -> (-10, -170)
  line L13 (-10, -110) -> (-10, -120)
  line L14 (-90, -120) -> (-93, -120)
  line L15 (-90, -170) -> (-87, -170)
  line L16 (-70, -190) -> (-70, -187)
  line L17 (-30, -190) -> (-30, -193)
  line L18 (-10, -170) -> (-7, -170)
  line L19 (-10, -120) -> (-13, -120)
  line L20 (-7, -170) -> (-13, -170)
  line L21 (-13, -170) -> (-13, -120)
  line L22 (-13, -120) -> (-7, -120)
  line L23 (-7, -120) -> (-7, -170)
  line L24 (-30, -193) -> (-70, -193)
  line L25 (-70, -193) -> (-70, -187)
  line L26 (-70, -187) -> (-30, -187)
  line L27 (-30, -187) -> (-30, -193)
  line L28 (-87, -170) -> (-93, -170)
  line L29 (-93, -170) -> (-93, -120)
  line L30 (-93, -120) -> (-87, -120)
  line L31 (-87, -120) -> (-87, -170)
  dimension "d113" = 10
  dimension "d114" = 10
  dimension "d115" = 10
  dimension "d116" = 10
  dimension "d117" = 10
  dimension "d118" = 10
  dimension "d119" = 3
  dimension "d120" = 3
  dimension "d121" = 3
  dimension "d122" = 3
  dimension "d123" = 3
  dimension "d124" = 3
extrude "Extrude18" add sketch "Sketch16" along normal blind 3 contours L14 L15 L28 L29 L30 L31 | L16 L17 L24 L25 L26 L27 | L18 L19 L20 L21 L22 L23
chamfer "Chamfer16" distance 2 angle 45 1 edges at (93, 145, 8)
chamfer "Chamfer17" distance 2 angle 45 1 edges at (89, 170, 8)
chamfer "Chamfer18" distance 2 angle 45 1 edges at (70, 190, 8)
chamfer "Chamfer19" distance 2 angle 45 1 edges at (49, 193, 8)
chamfer "Chamfer20" distance 2 angle 45 1 edges at (10, 170, 8)
chamfer "Chamfer21" distance 2 angle 45 1 edges at (89, 120, 8)
chamfer "Chamfer22" distance 2 angle 45 1 edges at (10, 120, 8)
chamfer "Chamfer23" distance 2 angle 45 1 edges at (7, 145, 8)
chamfer "Chamfer24" distance 2 angle 45 1 edges at (30, 189, 8)
equation "d41 = 0.00 mm - 5 mm"
